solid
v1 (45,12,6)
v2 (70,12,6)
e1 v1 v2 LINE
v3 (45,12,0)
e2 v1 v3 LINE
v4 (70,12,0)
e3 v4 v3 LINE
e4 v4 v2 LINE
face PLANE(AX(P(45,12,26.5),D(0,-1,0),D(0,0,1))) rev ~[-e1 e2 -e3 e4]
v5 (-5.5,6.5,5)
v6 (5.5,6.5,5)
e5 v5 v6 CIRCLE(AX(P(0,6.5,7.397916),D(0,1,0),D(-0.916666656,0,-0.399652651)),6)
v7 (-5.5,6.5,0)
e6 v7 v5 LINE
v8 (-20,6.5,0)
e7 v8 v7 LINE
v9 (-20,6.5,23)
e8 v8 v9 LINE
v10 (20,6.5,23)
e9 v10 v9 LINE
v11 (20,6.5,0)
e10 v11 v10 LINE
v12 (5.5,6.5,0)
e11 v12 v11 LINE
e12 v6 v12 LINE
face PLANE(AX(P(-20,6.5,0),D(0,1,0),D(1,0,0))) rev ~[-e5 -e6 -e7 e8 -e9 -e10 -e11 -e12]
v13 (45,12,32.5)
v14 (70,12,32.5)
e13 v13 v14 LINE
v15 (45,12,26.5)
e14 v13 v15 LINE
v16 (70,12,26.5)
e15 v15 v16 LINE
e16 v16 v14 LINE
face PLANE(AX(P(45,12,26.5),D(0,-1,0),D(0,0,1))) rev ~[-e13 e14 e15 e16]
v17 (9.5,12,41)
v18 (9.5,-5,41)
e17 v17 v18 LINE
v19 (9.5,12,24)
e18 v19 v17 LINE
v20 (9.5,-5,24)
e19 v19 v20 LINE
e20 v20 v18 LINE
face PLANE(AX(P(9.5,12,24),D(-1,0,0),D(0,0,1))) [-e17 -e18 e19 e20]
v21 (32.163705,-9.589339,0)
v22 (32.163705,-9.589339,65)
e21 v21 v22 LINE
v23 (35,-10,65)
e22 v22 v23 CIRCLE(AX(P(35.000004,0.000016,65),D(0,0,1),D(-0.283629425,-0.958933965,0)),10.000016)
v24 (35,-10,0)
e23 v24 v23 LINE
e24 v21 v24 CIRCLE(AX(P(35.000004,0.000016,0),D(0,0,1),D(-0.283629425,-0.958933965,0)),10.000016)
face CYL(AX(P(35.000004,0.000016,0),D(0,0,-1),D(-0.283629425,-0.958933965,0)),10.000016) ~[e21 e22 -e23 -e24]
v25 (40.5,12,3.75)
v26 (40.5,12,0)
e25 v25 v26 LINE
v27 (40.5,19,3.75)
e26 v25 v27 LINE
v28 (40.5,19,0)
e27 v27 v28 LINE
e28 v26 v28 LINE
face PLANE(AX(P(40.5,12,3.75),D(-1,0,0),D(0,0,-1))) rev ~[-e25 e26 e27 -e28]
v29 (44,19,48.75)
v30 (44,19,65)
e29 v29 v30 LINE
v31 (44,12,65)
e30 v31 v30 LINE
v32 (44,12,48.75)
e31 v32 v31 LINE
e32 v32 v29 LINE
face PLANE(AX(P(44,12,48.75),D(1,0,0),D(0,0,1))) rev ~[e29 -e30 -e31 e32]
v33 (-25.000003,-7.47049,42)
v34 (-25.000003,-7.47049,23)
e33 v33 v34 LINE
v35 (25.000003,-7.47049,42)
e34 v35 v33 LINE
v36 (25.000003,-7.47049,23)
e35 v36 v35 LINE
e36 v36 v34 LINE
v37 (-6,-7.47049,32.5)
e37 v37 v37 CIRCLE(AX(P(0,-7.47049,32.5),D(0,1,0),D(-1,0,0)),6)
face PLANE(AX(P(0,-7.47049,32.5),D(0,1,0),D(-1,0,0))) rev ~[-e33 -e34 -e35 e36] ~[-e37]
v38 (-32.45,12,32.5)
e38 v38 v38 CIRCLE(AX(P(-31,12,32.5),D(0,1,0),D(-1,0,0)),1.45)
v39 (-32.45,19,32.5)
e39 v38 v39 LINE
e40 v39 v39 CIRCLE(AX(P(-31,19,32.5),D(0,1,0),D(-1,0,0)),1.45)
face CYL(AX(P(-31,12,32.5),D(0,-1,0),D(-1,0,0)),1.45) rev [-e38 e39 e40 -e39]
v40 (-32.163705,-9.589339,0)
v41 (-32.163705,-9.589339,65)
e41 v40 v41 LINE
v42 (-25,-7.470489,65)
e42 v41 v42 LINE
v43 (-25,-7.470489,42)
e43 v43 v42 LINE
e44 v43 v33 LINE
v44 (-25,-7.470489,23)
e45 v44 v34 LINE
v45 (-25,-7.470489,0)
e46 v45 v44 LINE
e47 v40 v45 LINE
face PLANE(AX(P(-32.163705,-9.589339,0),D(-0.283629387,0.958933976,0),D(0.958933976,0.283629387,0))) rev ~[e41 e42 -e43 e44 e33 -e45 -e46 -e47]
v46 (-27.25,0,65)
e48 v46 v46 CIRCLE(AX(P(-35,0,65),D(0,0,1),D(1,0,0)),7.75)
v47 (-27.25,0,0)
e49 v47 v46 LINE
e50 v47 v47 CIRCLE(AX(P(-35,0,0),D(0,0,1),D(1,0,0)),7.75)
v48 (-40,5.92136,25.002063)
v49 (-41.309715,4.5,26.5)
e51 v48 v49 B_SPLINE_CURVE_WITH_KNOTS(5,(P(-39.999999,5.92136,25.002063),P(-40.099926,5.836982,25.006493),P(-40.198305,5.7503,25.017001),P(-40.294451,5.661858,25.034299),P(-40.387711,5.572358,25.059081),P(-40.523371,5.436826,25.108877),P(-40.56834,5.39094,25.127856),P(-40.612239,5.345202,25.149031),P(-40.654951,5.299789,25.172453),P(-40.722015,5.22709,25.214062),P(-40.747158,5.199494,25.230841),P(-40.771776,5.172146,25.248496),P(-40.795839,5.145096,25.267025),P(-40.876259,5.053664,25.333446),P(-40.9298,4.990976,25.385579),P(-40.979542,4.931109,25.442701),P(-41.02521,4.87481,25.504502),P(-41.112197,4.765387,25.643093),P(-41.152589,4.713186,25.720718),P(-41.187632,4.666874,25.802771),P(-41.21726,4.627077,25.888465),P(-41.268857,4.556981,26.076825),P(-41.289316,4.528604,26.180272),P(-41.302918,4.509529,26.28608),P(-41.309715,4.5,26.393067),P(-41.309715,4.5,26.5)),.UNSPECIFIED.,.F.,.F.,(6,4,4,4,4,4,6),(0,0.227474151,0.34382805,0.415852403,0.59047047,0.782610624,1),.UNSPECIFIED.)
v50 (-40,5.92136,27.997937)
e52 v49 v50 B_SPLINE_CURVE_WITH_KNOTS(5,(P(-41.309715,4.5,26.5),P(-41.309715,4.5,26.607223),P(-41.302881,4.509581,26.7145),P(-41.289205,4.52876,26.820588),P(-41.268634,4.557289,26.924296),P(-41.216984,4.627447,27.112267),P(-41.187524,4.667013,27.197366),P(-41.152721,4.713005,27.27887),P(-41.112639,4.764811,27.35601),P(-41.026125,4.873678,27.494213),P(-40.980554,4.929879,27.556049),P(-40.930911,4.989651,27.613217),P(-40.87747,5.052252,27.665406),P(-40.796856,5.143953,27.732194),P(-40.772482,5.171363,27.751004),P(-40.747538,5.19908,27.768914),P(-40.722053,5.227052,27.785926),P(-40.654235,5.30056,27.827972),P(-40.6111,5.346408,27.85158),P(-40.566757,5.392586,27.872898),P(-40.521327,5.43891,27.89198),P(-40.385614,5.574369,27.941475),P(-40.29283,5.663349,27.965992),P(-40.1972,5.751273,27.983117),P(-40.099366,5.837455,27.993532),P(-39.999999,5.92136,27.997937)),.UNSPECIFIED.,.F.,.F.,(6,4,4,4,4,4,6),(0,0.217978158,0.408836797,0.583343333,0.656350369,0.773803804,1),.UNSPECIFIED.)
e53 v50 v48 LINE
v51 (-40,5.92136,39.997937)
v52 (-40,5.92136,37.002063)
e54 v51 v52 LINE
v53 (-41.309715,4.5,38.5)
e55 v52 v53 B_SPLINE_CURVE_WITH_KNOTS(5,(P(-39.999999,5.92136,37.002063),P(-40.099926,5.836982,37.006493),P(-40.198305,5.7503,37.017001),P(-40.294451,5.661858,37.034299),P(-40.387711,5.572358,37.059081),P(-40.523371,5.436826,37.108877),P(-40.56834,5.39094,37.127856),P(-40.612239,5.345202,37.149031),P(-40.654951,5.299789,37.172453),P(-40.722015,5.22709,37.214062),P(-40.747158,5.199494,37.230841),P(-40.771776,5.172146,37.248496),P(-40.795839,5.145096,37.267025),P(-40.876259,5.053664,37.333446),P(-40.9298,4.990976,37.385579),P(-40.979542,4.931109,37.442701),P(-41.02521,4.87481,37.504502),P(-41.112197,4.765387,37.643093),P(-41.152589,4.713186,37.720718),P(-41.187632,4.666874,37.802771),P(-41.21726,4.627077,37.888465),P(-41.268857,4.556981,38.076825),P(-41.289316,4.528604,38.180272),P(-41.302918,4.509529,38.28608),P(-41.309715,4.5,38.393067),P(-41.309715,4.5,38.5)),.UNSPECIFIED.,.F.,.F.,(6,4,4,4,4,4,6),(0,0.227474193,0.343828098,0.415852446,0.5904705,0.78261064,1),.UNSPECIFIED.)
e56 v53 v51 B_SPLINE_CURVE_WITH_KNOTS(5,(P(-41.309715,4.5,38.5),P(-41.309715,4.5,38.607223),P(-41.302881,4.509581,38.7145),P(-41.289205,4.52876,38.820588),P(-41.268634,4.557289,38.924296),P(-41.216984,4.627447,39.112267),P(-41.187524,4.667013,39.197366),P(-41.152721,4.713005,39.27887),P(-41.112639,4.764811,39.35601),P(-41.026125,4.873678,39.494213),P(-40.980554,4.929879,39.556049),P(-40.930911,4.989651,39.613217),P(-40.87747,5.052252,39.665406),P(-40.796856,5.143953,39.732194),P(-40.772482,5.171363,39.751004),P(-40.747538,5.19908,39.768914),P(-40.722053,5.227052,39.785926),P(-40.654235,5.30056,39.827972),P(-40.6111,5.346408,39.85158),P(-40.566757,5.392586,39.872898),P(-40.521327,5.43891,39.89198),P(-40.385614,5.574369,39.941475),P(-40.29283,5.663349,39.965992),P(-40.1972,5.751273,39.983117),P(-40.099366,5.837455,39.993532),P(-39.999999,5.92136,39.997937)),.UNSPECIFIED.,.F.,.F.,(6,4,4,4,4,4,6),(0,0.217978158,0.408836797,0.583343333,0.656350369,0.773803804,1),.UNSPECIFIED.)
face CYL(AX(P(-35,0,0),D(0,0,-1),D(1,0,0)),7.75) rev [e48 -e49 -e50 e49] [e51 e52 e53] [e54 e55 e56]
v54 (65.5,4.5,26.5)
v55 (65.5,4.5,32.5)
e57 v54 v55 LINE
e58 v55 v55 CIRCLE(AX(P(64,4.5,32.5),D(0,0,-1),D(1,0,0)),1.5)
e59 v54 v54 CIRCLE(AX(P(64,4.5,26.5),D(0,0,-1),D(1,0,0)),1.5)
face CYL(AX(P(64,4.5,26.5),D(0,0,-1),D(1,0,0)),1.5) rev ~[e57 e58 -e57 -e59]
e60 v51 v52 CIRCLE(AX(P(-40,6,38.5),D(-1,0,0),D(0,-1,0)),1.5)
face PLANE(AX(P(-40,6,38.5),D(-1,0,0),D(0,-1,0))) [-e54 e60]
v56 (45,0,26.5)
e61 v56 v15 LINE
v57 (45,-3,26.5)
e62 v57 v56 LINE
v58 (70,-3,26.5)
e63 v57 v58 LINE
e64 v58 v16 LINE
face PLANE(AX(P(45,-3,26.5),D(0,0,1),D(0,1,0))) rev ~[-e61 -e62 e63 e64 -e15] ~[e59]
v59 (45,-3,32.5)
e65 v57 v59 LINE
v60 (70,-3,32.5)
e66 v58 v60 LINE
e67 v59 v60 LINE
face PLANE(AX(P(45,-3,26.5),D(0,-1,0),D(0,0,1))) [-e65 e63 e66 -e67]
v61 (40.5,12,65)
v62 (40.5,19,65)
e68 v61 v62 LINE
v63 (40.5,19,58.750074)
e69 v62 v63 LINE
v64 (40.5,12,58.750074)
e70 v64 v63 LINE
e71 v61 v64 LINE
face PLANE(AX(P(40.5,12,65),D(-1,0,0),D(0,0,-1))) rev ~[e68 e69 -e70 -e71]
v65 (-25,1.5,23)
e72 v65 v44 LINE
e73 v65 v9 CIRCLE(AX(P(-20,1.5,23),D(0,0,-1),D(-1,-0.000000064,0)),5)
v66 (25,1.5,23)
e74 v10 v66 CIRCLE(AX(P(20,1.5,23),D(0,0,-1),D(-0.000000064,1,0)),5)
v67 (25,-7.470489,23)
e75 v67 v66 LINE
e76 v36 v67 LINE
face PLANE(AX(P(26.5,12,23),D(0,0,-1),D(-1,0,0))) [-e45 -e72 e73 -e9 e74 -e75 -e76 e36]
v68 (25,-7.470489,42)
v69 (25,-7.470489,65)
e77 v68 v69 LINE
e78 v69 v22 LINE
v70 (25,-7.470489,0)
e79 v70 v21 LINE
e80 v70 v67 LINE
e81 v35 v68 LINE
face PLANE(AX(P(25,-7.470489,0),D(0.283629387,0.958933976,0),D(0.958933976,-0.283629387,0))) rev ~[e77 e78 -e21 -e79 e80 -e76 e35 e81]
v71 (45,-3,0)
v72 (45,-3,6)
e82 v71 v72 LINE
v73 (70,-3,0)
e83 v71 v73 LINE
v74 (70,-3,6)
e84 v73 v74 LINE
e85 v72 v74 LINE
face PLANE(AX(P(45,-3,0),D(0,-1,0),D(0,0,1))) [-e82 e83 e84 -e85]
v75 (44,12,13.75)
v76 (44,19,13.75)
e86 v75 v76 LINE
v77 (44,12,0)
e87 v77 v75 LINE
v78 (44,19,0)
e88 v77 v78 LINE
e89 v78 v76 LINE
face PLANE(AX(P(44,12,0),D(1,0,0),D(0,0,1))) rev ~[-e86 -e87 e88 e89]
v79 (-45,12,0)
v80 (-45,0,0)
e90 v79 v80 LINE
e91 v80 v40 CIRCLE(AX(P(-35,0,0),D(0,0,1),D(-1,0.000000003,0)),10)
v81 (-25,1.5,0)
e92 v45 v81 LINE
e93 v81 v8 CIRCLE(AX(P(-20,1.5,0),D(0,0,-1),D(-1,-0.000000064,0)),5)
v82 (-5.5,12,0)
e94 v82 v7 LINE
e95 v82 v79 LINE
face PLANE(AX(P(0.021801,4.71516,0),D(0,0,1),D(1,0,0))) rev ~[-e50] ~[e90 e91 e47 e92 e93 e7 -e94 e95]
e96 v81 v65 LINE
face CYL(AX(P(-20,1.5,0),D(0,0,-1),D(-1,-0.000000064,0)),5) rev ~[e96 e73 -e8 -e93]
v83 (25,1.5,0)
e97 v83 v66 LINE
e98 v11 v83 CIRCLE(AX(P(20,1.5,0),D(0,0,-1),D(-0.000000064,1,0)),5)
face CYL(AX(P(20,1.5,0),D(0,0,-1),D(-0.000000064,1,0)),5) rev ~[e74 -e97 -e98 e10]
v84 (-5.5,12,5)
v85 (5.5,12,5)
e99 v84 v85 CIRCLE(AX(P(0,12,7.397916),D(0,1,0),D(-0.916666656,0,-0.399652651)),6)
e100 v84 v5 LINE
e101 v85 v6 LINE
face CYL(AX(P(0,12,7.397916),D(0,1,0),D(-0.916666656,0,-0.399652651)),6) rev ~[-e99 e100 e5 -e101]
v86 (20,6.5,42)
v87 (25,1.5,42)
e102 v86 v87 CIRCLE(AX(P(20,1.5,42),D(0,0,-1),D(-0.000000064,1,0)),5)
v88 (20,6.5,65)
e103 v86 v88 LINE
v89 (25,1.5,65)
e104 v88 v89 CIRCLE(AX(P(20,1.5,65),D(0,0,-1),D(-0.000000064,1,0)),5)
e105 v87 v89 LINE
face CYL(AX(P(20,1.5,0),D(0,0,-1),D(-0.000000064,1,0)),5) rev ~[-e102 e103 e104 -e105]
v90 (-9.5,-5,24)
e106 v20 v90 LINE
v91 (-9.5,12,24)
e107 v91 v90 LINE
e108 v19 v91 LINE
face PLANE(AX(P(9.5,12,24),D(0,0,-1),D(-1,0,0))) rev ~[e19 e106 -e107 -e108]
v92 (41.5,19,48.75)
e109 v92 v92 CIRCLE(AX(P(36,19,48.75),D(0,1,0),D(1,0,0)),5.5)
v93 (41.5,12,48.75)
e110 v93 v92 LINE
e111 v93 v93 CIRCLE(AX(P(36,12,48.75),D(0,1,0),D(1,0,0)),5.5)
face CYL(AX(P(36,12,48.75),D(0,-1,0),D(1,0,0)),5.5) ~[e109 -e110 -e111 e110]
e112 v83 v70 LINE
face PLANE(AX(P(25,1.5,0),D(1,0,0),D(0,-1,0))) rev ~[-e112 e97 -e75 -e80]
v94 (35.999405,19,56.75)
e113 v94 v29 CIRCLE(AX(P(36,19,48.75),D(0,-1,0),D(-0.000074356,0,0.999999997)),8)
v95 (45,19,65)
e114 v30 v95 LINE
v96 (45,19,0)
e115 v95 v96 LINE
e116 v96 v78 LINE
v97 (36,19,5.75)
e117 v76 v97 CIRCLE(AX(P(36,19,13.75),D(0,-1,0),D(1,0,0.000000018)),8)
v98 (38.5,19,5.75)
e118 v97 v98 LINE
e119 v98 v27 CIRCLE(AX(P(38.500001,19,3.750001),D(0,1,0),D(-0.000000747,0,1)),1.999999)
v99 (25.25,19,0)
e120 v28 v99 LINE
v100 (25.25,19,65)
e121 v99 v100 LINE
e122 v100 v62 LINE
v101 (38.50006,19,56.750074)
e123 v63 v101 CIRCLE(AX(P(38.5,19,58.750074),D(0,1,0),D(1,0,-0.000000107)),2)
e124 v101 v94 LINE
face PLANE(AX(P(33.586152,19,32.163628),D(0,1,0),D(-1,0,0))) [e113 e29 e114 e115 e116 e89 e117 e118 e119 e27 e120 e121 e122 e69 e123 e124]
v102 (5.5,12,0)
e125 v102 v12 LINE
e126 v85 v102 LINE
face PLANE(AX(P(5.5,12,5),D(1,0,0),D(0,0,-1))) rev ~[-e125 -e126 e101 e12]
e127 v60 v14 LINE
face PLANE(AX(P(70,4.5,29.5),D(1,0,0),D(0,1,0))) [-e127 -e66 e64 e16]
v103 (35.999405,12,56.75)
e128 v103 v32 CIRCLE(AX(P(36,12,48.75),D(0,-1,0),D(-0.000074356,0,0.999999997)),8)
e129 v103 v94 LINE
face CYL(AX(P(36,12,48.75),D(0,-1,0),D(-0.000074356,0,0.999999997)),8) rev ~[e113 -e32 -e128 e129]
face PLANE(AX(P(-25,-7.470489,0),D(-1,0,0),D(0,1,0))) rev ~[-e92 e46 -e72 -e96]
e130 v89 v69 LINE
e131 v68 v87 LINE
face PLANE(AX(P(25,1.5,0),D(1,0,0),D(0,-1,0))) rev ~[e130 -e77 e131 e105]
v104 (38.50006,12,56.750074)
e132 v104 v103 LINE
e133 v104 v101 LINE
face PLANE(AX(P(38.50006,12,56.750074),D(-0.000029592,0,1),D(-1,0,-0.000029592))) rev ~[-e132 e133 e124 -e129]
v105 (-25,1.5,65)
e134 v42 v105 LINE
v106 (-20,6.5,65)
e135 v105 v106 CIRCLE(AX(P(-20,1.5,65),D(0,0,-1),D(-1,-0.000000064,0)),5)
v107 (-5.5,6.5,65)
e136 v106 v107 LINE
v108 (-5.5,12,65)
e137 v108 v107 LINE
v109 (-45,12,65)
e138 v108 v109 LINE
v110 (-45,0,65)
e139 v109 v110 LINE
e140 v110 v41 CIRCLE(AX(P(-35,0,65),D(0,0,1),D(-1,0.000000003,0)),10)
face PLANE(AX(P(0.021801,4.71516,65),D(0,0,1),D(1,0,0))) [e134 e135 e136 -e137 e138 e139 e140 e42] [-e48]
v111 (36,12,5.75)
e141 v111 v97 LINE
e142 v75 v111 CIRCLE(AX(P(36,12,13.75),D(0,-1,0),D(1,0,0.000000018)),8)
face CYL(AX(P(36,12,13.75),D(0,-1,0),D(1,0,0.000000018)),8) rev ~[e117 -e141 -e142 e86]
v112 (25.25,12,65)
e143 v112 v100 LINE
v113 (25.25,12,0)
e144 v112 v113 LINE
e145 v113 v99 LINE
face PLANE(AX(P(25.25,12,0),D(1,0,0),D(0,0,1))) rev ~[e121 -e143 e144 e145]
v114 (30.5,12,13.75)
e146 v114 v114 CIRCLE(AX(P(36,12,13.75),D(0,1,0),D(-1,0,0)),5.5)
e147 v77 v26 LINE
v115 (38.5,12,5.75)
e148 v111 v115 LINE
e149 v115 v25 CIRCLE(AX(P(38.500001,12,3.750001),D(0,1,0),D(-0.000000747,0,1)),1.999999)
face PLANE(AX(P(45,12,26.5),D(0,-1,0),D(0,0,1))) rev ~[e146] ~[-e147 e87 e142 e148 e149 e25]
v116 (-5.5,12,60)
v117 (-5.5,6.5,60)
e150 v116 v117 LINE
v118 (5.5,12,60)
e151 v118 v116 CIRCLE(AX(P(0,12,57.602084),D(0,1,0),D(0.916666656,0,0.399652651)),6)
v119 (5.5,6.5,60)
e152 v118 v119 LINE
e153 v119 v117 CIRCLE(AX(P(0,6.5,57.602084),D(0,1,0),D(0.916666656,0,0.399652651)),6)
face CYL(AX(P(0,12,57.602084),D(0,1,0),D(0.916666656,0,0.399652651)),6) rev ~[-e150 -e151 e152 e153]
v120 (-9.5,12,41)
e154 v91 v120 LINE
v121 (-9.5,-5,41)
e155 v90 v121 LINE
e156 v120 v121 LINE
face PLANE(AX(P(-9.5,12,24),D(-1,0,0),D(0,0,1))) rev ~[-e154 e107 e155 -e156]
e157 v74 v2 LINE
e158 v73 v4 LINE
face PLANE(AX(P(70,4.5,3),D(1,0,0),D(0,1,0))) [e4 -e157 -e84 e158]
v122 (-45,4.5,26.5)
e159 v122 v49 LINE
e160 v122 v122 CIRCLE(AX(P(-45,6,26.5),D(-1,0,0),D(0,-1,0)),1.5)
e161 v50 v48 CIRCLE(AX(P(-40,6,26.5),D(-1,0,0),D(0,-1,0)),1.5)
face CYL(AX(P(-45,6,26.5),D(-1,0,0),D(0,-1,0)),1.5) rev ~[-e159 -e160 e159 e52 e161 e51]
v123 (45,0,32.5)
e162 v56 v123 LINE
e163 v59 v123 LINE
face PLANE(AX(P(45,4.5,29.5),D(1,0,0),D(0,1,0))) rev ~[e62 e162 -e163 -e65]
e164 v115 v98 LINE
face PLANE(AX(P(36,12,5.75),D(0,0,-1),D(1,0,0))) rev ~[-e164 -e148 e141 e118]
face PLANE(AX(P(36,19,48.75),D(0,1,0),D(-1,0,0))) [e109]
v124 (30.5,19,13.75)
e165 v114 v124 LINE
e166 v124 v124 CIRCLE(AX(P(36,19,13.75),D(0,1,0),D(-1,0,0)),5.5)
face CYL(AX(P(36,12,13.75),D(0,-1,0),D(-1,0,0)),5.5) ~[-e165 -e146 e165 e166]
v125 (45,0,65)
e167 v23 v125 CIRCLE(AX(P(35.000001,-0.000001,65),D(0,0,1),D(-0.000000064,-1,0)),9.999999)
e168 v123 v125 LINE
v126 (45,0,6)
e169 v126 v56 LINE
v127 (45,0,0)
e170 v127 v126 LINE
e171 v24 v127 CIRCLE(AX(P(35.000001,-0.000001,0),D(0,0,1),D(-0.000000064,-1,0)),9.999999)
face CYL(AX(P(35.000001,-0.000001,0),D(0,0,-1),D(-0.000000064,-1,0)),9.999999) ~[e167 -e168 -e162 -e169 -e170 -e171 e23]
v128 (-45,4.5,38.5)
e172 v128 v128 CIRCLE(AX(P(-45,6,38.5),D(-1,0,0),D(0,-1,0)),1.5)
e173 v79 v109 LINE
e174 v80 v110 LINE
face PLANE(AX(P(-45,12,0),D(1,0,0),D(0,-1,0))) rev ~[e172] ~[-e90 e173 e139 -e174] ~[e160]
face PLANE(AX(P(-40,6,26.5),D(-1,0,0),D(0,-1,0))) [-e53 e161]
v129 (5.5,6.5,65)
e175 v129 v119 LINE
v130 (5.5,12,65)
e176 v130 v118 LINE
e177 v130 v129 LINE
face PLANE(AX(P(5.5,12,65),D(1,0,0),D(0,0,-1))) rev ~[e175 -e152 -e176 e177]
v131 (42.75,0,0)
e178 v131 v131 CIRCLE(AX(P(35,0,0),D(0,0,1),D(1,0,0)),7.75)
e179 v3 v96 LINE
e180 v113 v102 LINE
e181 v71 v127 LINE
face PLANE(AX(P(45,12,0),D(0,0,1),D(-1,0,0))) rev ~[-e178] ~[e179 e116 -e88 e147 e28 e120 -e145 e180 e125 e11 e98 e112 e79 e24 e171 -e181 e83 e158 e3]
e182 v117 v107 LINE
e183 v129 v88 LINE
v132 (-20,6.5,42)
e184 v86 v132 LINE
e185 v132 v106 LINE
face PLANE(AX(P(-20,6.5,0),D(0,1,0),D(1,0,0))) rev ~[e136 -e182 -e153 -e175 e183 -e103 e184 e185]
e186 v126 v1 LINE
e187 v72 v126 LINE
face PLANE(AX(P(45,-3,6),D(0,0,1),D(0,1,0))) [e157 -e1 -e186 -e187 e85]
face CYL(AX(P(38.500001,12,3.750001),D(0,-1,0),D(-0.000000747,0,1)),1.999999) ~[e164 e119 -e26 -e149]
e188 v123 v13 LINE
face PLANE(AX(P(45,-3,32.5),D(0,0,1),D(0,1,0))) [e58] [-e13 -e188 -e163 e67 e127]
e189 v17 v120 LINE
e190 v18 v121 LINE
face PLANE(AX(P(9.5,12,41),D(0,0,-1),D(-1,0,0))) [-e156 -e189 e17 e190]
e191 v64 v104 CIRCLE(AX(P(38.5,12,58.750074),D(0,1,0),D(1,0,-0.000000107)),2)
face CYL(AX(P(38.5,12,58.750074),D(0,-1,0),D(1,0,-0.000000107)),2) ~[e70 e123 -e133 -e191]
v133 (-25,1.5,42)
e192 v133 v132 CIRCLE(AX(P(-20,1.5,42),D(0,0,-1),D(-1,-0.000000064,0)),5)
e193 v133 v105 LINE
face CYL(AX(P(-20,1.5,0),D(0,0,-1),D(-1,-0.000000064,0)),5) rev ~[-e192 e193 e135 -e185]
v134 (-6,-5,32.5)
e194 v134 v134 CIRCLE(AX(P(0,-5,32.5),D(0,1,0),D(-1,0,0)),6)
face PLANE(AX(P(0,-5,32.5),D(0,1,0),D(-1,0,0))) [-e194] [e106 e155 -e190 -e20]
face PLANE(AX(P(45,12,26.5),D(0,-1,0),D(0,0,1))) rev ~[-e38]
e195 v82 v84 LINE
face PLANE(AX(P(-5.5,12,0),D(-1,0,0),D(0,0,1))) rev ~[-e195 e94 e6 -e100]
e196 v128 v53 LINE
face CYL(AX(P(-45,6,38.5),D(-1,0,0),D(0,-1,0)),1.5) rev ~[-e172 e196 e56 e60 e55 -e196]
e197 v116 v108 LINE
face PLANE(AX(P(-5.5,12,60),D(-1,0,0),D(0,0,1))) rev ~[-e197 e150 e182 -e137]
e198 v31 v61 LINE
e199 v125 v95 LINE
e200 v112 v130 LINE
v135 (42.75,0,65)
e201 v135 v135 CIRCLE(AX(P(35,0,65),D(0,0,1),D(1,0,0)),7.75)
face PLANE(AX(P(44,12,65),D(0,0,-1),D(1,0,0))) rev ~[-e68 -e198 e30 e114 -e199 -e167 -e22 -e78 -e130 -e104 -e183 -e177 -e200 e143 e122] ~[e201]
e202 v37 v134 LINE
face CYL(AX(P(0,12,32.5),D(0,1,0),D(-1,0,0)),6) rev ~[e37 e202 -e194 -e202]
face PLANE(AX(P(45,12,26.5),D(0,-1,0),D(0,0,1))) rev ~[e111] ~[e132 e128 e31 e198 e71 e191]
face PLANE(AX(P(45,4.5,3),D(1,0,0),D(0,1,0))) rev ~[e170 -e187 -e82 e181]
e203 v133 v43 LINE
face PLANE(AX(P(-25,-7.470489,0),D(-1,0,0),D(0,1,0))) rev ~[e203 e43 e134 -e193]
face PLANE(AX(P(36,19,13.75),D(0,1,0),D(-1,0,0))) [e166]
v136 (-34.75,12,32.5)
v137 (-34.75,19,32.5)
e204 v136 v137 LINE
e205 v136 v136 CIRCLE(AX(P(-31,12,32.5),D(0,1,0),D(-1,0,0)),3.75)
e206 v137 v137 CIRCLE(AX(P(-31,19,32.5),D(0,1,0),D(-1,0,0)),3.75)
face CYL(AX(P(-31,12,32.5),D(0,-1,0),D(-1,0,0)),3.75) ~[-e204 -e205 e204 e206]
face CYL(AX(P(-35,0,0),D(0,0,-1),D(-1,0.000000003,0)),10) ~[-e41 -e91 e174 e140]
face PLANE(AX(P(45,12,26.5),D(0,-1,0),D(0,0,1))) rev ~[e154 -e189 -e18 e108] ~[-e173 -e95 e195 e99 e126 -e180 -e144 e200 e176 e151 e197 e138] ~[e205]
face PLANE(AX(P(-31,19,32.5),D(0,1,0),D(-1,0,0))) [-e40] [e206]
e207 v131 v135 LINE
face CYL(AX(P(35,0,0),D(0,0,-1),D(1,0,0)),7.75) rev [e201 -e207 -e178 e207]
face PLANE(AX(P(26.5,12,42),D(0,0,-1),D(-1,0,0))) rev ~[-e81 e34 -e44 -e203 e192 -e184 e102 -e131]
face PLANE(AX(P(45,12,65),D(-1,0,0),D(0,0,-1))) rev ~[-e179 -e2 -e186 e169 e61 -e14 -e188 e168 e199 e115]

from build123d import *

# Parameters (mm, degrees)
F0_R      = 7.75
F1_DEPTH  = 65
F2_R      = 6
F3_DEPTH  = 25
F4_W      = 15
F4_H      = 6
F5_DEPTH  = 25
F6_R      = 1.5
F7_DEPTH  = 25
F8_R      = 3.75
F8_R_2    = 1.45
F8_R_3    = 5.5
F9_DEPTH  = 7
F10_R     = 1.5
F11_DEPTH = 5
F2_W      = 53
F2_H      = 19
F2_W_2    = 19
F2_H_2    = 17
F12_DEPTH = 19.47049
F13_DEPTH = 17


with BuildPart() as f1:
    # F0 (on Top) → F1 (new body)
    with BuildSketch(Plane.XY):
        with BuildLine():
            Line((25, -7.470489), (32.163705, -9.589339))
            ThreePointArc((32.163705, -9.589339), (33.567065, -9.896802), (35, -10))
            ThreePointArc((35, -10), (42.071068, -7.071068), (45, 0))
            Line((45, 0), (45, 12))
            Line((45, 12), (0, 12))
            Line((0, 12), (-45, 12))
            Line((-45, 12), (-45, 0))
            ThreePointArc((-45, 0), (-40.984858, -8.011334), (-32.163705, -9.589339))
            Line((-32.163705, -9.589339), (-25, -7.470489))
            Line((-25, -7.470489), (-25, 0))
            Line((-25, 0), (-25, 1.5))
            ThreePointArc((-25, 1.5), (-23.535534, 5.035534), (-20, 6.5))
            Line((-20, 6.5), (20, 6.5))
            ThreePointArc((20, 6.5), (23.535534, 5.035534), (25, 1.5))
            Line((25, 1.5), (25, 0))
            Line((25, 0), (25, -7.470489))
        make_face()
        with Locations((-35, 0)):
            Circle(F0_R, mode=Mode.SUBTRACT)
        with Locations((35, 0)):
            Circle(F0_R, mode=Mode.SUBTRACT)
    extrude(amount=F1_DEPTH)

    # F2 (on face) → F3 (cut)
    with BuildSketch(Plane(origin=(0, 12, 0), x_dir=(-1, 0, 0), z_dir=(0, 1, 0))):
        with BuildLine():
            Line((-5.5, 65), (-5.5, 60))
            ThreePointArc((-5.5, 60), (0, 51.602084), (5.5, 60))
            Line((5.5, 60), (5.5, 65))
            Line((5.5, 65), (-5.5, 65))
        make_face()
        with Locations((0, 32.5)):
            Circle(F2_R)
        with BuildLine():
            Line((-5.5, 5), (-5.5, 0))
            Line((-5.5, 0), (5.5, 0))
            Line((5.5, 0), (5.5, 5))
            ThreePointArc((5.5, 5), (0, 13.397916), (-5.5, 5))
        make_face()
    extrude(amount=-F3_DEPTH, mode=Mode.SUBTRACT)

    # F4 (on face) → F5 (join)
    with BuildSketch(Plane.YZ.offset(45)):
        with Locations((4.5, 29.5)):
            Rectangle(F4_W, F4_H)
        with Locations((4.5, 3)):
            Rectangle(F4_W, F4_H)
    extrude(amount=F5_DEPTH)

    # F6 (on face) → F7 (cut)
    with BuildSketch(Plane(origin=(0, 0, 26.5), x_dir=(1, 0, 0), z_dir=(0, 0, -1))):
        with Locations((64, -4.5)):
            Circle(F6_R)
    extrude(amount=-F7_DEPTH, mode=Mode.SUBTRACT)

    # F8 (on face) → F9 (join)
    with BuildSketch(Plane(origin=(0, 12, 0), x_dir=(-1, 0, 0), z_dir=(0, 1, 0))):
        with Locations((31, 32.5)):
            Circle(F8_R)
        with Locations((31, 32.5)):
            Circle(F8_R_2, mode=Mode.SUBTRACT)
        with BuildLine():
            ThreePointArc((-35.999405, 56.75), (-30.343356, 43.092935), (-44, 48.75))
            Line((-44, 48.75), (-44, 13.75))
            ThreePointArc((-44, 13.75), (-30.343146, 19.406854), (-36, 5.75))
            Line((-36, 5.75), (-38.5, 5.75))
            ThreePointArc((-38.5, 5.75), (-39.914214, 5.164214), (-40.5, 3.75))
            Line((-40.5, 3.75), (-40.5, 0))
            Line((-40.5, 0), (-25.25, 0))
            Line((-25.25, 0), (-25.25, 65))
            Line((-25.25, 65), (-40.5, 65))
            Line((-40.5, 65), (-40.5, 58.750074))
            ThreePointArc((-40.5, 58.750074), (-39.914235, 57.335882), (-38.50006, 56.750074))
            Line((-38.50006, 56.750074), (-35.999405, 56.75))
        make_face()
        Polygon((-44, 65), (-45, 65), (-45, 32.5), (-45, 26.5), (-45, 6), (-45, 0), (-44, 0), (-44, 13.75), (-44, 48.75), align=None)
        with Locations((-36, 13.75)):
            Circle(F8_R_3)
        with BuildLine():
            ThreePointArc((-30.5, 48.75), (-36, 54.25), (-41.5, 48.75))
            ThreePointArc((-41.5, 48.75), (-36, 43.25), (-30.5, 48.75))
        make_face()
    extrude(amount=F9_DEPTH)

    # F10 (on face) → F11 (cut)
    with BuildSketch(Plane(origin=(-45, 0, 0), x_dir=(0, -1, 0), z_dir=(-1, 0, 0))):
        with Locations((-6, 26.5)):
            Circle(F10_R)
        with Locations((-6, 38.5)):
            Circle(F10_R)
    extrude(amount=-F11_DEPTH, mode=Mode.SUBTRACT)

    # F2 (on face) → F12 (join)
    with BuildSketch(Plane(origin=(0, 12, 0), x_dir=(-1, 0, 0), z_dir=(0, 1, 0))):
        with Locations((0, 32.5)):
            Rectangle(F2_W, F2_H)
        with Locations((0, 32.5)):
            Rectangle(F2_W_2, F2_H_2, mode=Mode.SUBTRACT)
        with Locations((0, 32.5)):
            Rectangle(F2_W_2, F2_H_2)
        with Locations((0, 32.5)):
            Circle(F2_R, mode=Mode.SUBTRACT)
    extrude(amount=-F12_DEPTH)

    # F2 (on face) → F13 (cut)
    with BuildSketch(Plane(origin=(0, 12, 0), x_dir=(-1, 0, 0), z_dir=(0, 1, 0))):
        with Locations((0, 32.5)):
            Rectangle(F2_W_2, F2_H_2)
        with Locations((0, 32.5)):
            Circle(F2_R, mode=Mode.SUBTRACT)
    extrude(amount=-F13_DEPTH, mode=Mode.SUBTRACT)


solid = f1.part
